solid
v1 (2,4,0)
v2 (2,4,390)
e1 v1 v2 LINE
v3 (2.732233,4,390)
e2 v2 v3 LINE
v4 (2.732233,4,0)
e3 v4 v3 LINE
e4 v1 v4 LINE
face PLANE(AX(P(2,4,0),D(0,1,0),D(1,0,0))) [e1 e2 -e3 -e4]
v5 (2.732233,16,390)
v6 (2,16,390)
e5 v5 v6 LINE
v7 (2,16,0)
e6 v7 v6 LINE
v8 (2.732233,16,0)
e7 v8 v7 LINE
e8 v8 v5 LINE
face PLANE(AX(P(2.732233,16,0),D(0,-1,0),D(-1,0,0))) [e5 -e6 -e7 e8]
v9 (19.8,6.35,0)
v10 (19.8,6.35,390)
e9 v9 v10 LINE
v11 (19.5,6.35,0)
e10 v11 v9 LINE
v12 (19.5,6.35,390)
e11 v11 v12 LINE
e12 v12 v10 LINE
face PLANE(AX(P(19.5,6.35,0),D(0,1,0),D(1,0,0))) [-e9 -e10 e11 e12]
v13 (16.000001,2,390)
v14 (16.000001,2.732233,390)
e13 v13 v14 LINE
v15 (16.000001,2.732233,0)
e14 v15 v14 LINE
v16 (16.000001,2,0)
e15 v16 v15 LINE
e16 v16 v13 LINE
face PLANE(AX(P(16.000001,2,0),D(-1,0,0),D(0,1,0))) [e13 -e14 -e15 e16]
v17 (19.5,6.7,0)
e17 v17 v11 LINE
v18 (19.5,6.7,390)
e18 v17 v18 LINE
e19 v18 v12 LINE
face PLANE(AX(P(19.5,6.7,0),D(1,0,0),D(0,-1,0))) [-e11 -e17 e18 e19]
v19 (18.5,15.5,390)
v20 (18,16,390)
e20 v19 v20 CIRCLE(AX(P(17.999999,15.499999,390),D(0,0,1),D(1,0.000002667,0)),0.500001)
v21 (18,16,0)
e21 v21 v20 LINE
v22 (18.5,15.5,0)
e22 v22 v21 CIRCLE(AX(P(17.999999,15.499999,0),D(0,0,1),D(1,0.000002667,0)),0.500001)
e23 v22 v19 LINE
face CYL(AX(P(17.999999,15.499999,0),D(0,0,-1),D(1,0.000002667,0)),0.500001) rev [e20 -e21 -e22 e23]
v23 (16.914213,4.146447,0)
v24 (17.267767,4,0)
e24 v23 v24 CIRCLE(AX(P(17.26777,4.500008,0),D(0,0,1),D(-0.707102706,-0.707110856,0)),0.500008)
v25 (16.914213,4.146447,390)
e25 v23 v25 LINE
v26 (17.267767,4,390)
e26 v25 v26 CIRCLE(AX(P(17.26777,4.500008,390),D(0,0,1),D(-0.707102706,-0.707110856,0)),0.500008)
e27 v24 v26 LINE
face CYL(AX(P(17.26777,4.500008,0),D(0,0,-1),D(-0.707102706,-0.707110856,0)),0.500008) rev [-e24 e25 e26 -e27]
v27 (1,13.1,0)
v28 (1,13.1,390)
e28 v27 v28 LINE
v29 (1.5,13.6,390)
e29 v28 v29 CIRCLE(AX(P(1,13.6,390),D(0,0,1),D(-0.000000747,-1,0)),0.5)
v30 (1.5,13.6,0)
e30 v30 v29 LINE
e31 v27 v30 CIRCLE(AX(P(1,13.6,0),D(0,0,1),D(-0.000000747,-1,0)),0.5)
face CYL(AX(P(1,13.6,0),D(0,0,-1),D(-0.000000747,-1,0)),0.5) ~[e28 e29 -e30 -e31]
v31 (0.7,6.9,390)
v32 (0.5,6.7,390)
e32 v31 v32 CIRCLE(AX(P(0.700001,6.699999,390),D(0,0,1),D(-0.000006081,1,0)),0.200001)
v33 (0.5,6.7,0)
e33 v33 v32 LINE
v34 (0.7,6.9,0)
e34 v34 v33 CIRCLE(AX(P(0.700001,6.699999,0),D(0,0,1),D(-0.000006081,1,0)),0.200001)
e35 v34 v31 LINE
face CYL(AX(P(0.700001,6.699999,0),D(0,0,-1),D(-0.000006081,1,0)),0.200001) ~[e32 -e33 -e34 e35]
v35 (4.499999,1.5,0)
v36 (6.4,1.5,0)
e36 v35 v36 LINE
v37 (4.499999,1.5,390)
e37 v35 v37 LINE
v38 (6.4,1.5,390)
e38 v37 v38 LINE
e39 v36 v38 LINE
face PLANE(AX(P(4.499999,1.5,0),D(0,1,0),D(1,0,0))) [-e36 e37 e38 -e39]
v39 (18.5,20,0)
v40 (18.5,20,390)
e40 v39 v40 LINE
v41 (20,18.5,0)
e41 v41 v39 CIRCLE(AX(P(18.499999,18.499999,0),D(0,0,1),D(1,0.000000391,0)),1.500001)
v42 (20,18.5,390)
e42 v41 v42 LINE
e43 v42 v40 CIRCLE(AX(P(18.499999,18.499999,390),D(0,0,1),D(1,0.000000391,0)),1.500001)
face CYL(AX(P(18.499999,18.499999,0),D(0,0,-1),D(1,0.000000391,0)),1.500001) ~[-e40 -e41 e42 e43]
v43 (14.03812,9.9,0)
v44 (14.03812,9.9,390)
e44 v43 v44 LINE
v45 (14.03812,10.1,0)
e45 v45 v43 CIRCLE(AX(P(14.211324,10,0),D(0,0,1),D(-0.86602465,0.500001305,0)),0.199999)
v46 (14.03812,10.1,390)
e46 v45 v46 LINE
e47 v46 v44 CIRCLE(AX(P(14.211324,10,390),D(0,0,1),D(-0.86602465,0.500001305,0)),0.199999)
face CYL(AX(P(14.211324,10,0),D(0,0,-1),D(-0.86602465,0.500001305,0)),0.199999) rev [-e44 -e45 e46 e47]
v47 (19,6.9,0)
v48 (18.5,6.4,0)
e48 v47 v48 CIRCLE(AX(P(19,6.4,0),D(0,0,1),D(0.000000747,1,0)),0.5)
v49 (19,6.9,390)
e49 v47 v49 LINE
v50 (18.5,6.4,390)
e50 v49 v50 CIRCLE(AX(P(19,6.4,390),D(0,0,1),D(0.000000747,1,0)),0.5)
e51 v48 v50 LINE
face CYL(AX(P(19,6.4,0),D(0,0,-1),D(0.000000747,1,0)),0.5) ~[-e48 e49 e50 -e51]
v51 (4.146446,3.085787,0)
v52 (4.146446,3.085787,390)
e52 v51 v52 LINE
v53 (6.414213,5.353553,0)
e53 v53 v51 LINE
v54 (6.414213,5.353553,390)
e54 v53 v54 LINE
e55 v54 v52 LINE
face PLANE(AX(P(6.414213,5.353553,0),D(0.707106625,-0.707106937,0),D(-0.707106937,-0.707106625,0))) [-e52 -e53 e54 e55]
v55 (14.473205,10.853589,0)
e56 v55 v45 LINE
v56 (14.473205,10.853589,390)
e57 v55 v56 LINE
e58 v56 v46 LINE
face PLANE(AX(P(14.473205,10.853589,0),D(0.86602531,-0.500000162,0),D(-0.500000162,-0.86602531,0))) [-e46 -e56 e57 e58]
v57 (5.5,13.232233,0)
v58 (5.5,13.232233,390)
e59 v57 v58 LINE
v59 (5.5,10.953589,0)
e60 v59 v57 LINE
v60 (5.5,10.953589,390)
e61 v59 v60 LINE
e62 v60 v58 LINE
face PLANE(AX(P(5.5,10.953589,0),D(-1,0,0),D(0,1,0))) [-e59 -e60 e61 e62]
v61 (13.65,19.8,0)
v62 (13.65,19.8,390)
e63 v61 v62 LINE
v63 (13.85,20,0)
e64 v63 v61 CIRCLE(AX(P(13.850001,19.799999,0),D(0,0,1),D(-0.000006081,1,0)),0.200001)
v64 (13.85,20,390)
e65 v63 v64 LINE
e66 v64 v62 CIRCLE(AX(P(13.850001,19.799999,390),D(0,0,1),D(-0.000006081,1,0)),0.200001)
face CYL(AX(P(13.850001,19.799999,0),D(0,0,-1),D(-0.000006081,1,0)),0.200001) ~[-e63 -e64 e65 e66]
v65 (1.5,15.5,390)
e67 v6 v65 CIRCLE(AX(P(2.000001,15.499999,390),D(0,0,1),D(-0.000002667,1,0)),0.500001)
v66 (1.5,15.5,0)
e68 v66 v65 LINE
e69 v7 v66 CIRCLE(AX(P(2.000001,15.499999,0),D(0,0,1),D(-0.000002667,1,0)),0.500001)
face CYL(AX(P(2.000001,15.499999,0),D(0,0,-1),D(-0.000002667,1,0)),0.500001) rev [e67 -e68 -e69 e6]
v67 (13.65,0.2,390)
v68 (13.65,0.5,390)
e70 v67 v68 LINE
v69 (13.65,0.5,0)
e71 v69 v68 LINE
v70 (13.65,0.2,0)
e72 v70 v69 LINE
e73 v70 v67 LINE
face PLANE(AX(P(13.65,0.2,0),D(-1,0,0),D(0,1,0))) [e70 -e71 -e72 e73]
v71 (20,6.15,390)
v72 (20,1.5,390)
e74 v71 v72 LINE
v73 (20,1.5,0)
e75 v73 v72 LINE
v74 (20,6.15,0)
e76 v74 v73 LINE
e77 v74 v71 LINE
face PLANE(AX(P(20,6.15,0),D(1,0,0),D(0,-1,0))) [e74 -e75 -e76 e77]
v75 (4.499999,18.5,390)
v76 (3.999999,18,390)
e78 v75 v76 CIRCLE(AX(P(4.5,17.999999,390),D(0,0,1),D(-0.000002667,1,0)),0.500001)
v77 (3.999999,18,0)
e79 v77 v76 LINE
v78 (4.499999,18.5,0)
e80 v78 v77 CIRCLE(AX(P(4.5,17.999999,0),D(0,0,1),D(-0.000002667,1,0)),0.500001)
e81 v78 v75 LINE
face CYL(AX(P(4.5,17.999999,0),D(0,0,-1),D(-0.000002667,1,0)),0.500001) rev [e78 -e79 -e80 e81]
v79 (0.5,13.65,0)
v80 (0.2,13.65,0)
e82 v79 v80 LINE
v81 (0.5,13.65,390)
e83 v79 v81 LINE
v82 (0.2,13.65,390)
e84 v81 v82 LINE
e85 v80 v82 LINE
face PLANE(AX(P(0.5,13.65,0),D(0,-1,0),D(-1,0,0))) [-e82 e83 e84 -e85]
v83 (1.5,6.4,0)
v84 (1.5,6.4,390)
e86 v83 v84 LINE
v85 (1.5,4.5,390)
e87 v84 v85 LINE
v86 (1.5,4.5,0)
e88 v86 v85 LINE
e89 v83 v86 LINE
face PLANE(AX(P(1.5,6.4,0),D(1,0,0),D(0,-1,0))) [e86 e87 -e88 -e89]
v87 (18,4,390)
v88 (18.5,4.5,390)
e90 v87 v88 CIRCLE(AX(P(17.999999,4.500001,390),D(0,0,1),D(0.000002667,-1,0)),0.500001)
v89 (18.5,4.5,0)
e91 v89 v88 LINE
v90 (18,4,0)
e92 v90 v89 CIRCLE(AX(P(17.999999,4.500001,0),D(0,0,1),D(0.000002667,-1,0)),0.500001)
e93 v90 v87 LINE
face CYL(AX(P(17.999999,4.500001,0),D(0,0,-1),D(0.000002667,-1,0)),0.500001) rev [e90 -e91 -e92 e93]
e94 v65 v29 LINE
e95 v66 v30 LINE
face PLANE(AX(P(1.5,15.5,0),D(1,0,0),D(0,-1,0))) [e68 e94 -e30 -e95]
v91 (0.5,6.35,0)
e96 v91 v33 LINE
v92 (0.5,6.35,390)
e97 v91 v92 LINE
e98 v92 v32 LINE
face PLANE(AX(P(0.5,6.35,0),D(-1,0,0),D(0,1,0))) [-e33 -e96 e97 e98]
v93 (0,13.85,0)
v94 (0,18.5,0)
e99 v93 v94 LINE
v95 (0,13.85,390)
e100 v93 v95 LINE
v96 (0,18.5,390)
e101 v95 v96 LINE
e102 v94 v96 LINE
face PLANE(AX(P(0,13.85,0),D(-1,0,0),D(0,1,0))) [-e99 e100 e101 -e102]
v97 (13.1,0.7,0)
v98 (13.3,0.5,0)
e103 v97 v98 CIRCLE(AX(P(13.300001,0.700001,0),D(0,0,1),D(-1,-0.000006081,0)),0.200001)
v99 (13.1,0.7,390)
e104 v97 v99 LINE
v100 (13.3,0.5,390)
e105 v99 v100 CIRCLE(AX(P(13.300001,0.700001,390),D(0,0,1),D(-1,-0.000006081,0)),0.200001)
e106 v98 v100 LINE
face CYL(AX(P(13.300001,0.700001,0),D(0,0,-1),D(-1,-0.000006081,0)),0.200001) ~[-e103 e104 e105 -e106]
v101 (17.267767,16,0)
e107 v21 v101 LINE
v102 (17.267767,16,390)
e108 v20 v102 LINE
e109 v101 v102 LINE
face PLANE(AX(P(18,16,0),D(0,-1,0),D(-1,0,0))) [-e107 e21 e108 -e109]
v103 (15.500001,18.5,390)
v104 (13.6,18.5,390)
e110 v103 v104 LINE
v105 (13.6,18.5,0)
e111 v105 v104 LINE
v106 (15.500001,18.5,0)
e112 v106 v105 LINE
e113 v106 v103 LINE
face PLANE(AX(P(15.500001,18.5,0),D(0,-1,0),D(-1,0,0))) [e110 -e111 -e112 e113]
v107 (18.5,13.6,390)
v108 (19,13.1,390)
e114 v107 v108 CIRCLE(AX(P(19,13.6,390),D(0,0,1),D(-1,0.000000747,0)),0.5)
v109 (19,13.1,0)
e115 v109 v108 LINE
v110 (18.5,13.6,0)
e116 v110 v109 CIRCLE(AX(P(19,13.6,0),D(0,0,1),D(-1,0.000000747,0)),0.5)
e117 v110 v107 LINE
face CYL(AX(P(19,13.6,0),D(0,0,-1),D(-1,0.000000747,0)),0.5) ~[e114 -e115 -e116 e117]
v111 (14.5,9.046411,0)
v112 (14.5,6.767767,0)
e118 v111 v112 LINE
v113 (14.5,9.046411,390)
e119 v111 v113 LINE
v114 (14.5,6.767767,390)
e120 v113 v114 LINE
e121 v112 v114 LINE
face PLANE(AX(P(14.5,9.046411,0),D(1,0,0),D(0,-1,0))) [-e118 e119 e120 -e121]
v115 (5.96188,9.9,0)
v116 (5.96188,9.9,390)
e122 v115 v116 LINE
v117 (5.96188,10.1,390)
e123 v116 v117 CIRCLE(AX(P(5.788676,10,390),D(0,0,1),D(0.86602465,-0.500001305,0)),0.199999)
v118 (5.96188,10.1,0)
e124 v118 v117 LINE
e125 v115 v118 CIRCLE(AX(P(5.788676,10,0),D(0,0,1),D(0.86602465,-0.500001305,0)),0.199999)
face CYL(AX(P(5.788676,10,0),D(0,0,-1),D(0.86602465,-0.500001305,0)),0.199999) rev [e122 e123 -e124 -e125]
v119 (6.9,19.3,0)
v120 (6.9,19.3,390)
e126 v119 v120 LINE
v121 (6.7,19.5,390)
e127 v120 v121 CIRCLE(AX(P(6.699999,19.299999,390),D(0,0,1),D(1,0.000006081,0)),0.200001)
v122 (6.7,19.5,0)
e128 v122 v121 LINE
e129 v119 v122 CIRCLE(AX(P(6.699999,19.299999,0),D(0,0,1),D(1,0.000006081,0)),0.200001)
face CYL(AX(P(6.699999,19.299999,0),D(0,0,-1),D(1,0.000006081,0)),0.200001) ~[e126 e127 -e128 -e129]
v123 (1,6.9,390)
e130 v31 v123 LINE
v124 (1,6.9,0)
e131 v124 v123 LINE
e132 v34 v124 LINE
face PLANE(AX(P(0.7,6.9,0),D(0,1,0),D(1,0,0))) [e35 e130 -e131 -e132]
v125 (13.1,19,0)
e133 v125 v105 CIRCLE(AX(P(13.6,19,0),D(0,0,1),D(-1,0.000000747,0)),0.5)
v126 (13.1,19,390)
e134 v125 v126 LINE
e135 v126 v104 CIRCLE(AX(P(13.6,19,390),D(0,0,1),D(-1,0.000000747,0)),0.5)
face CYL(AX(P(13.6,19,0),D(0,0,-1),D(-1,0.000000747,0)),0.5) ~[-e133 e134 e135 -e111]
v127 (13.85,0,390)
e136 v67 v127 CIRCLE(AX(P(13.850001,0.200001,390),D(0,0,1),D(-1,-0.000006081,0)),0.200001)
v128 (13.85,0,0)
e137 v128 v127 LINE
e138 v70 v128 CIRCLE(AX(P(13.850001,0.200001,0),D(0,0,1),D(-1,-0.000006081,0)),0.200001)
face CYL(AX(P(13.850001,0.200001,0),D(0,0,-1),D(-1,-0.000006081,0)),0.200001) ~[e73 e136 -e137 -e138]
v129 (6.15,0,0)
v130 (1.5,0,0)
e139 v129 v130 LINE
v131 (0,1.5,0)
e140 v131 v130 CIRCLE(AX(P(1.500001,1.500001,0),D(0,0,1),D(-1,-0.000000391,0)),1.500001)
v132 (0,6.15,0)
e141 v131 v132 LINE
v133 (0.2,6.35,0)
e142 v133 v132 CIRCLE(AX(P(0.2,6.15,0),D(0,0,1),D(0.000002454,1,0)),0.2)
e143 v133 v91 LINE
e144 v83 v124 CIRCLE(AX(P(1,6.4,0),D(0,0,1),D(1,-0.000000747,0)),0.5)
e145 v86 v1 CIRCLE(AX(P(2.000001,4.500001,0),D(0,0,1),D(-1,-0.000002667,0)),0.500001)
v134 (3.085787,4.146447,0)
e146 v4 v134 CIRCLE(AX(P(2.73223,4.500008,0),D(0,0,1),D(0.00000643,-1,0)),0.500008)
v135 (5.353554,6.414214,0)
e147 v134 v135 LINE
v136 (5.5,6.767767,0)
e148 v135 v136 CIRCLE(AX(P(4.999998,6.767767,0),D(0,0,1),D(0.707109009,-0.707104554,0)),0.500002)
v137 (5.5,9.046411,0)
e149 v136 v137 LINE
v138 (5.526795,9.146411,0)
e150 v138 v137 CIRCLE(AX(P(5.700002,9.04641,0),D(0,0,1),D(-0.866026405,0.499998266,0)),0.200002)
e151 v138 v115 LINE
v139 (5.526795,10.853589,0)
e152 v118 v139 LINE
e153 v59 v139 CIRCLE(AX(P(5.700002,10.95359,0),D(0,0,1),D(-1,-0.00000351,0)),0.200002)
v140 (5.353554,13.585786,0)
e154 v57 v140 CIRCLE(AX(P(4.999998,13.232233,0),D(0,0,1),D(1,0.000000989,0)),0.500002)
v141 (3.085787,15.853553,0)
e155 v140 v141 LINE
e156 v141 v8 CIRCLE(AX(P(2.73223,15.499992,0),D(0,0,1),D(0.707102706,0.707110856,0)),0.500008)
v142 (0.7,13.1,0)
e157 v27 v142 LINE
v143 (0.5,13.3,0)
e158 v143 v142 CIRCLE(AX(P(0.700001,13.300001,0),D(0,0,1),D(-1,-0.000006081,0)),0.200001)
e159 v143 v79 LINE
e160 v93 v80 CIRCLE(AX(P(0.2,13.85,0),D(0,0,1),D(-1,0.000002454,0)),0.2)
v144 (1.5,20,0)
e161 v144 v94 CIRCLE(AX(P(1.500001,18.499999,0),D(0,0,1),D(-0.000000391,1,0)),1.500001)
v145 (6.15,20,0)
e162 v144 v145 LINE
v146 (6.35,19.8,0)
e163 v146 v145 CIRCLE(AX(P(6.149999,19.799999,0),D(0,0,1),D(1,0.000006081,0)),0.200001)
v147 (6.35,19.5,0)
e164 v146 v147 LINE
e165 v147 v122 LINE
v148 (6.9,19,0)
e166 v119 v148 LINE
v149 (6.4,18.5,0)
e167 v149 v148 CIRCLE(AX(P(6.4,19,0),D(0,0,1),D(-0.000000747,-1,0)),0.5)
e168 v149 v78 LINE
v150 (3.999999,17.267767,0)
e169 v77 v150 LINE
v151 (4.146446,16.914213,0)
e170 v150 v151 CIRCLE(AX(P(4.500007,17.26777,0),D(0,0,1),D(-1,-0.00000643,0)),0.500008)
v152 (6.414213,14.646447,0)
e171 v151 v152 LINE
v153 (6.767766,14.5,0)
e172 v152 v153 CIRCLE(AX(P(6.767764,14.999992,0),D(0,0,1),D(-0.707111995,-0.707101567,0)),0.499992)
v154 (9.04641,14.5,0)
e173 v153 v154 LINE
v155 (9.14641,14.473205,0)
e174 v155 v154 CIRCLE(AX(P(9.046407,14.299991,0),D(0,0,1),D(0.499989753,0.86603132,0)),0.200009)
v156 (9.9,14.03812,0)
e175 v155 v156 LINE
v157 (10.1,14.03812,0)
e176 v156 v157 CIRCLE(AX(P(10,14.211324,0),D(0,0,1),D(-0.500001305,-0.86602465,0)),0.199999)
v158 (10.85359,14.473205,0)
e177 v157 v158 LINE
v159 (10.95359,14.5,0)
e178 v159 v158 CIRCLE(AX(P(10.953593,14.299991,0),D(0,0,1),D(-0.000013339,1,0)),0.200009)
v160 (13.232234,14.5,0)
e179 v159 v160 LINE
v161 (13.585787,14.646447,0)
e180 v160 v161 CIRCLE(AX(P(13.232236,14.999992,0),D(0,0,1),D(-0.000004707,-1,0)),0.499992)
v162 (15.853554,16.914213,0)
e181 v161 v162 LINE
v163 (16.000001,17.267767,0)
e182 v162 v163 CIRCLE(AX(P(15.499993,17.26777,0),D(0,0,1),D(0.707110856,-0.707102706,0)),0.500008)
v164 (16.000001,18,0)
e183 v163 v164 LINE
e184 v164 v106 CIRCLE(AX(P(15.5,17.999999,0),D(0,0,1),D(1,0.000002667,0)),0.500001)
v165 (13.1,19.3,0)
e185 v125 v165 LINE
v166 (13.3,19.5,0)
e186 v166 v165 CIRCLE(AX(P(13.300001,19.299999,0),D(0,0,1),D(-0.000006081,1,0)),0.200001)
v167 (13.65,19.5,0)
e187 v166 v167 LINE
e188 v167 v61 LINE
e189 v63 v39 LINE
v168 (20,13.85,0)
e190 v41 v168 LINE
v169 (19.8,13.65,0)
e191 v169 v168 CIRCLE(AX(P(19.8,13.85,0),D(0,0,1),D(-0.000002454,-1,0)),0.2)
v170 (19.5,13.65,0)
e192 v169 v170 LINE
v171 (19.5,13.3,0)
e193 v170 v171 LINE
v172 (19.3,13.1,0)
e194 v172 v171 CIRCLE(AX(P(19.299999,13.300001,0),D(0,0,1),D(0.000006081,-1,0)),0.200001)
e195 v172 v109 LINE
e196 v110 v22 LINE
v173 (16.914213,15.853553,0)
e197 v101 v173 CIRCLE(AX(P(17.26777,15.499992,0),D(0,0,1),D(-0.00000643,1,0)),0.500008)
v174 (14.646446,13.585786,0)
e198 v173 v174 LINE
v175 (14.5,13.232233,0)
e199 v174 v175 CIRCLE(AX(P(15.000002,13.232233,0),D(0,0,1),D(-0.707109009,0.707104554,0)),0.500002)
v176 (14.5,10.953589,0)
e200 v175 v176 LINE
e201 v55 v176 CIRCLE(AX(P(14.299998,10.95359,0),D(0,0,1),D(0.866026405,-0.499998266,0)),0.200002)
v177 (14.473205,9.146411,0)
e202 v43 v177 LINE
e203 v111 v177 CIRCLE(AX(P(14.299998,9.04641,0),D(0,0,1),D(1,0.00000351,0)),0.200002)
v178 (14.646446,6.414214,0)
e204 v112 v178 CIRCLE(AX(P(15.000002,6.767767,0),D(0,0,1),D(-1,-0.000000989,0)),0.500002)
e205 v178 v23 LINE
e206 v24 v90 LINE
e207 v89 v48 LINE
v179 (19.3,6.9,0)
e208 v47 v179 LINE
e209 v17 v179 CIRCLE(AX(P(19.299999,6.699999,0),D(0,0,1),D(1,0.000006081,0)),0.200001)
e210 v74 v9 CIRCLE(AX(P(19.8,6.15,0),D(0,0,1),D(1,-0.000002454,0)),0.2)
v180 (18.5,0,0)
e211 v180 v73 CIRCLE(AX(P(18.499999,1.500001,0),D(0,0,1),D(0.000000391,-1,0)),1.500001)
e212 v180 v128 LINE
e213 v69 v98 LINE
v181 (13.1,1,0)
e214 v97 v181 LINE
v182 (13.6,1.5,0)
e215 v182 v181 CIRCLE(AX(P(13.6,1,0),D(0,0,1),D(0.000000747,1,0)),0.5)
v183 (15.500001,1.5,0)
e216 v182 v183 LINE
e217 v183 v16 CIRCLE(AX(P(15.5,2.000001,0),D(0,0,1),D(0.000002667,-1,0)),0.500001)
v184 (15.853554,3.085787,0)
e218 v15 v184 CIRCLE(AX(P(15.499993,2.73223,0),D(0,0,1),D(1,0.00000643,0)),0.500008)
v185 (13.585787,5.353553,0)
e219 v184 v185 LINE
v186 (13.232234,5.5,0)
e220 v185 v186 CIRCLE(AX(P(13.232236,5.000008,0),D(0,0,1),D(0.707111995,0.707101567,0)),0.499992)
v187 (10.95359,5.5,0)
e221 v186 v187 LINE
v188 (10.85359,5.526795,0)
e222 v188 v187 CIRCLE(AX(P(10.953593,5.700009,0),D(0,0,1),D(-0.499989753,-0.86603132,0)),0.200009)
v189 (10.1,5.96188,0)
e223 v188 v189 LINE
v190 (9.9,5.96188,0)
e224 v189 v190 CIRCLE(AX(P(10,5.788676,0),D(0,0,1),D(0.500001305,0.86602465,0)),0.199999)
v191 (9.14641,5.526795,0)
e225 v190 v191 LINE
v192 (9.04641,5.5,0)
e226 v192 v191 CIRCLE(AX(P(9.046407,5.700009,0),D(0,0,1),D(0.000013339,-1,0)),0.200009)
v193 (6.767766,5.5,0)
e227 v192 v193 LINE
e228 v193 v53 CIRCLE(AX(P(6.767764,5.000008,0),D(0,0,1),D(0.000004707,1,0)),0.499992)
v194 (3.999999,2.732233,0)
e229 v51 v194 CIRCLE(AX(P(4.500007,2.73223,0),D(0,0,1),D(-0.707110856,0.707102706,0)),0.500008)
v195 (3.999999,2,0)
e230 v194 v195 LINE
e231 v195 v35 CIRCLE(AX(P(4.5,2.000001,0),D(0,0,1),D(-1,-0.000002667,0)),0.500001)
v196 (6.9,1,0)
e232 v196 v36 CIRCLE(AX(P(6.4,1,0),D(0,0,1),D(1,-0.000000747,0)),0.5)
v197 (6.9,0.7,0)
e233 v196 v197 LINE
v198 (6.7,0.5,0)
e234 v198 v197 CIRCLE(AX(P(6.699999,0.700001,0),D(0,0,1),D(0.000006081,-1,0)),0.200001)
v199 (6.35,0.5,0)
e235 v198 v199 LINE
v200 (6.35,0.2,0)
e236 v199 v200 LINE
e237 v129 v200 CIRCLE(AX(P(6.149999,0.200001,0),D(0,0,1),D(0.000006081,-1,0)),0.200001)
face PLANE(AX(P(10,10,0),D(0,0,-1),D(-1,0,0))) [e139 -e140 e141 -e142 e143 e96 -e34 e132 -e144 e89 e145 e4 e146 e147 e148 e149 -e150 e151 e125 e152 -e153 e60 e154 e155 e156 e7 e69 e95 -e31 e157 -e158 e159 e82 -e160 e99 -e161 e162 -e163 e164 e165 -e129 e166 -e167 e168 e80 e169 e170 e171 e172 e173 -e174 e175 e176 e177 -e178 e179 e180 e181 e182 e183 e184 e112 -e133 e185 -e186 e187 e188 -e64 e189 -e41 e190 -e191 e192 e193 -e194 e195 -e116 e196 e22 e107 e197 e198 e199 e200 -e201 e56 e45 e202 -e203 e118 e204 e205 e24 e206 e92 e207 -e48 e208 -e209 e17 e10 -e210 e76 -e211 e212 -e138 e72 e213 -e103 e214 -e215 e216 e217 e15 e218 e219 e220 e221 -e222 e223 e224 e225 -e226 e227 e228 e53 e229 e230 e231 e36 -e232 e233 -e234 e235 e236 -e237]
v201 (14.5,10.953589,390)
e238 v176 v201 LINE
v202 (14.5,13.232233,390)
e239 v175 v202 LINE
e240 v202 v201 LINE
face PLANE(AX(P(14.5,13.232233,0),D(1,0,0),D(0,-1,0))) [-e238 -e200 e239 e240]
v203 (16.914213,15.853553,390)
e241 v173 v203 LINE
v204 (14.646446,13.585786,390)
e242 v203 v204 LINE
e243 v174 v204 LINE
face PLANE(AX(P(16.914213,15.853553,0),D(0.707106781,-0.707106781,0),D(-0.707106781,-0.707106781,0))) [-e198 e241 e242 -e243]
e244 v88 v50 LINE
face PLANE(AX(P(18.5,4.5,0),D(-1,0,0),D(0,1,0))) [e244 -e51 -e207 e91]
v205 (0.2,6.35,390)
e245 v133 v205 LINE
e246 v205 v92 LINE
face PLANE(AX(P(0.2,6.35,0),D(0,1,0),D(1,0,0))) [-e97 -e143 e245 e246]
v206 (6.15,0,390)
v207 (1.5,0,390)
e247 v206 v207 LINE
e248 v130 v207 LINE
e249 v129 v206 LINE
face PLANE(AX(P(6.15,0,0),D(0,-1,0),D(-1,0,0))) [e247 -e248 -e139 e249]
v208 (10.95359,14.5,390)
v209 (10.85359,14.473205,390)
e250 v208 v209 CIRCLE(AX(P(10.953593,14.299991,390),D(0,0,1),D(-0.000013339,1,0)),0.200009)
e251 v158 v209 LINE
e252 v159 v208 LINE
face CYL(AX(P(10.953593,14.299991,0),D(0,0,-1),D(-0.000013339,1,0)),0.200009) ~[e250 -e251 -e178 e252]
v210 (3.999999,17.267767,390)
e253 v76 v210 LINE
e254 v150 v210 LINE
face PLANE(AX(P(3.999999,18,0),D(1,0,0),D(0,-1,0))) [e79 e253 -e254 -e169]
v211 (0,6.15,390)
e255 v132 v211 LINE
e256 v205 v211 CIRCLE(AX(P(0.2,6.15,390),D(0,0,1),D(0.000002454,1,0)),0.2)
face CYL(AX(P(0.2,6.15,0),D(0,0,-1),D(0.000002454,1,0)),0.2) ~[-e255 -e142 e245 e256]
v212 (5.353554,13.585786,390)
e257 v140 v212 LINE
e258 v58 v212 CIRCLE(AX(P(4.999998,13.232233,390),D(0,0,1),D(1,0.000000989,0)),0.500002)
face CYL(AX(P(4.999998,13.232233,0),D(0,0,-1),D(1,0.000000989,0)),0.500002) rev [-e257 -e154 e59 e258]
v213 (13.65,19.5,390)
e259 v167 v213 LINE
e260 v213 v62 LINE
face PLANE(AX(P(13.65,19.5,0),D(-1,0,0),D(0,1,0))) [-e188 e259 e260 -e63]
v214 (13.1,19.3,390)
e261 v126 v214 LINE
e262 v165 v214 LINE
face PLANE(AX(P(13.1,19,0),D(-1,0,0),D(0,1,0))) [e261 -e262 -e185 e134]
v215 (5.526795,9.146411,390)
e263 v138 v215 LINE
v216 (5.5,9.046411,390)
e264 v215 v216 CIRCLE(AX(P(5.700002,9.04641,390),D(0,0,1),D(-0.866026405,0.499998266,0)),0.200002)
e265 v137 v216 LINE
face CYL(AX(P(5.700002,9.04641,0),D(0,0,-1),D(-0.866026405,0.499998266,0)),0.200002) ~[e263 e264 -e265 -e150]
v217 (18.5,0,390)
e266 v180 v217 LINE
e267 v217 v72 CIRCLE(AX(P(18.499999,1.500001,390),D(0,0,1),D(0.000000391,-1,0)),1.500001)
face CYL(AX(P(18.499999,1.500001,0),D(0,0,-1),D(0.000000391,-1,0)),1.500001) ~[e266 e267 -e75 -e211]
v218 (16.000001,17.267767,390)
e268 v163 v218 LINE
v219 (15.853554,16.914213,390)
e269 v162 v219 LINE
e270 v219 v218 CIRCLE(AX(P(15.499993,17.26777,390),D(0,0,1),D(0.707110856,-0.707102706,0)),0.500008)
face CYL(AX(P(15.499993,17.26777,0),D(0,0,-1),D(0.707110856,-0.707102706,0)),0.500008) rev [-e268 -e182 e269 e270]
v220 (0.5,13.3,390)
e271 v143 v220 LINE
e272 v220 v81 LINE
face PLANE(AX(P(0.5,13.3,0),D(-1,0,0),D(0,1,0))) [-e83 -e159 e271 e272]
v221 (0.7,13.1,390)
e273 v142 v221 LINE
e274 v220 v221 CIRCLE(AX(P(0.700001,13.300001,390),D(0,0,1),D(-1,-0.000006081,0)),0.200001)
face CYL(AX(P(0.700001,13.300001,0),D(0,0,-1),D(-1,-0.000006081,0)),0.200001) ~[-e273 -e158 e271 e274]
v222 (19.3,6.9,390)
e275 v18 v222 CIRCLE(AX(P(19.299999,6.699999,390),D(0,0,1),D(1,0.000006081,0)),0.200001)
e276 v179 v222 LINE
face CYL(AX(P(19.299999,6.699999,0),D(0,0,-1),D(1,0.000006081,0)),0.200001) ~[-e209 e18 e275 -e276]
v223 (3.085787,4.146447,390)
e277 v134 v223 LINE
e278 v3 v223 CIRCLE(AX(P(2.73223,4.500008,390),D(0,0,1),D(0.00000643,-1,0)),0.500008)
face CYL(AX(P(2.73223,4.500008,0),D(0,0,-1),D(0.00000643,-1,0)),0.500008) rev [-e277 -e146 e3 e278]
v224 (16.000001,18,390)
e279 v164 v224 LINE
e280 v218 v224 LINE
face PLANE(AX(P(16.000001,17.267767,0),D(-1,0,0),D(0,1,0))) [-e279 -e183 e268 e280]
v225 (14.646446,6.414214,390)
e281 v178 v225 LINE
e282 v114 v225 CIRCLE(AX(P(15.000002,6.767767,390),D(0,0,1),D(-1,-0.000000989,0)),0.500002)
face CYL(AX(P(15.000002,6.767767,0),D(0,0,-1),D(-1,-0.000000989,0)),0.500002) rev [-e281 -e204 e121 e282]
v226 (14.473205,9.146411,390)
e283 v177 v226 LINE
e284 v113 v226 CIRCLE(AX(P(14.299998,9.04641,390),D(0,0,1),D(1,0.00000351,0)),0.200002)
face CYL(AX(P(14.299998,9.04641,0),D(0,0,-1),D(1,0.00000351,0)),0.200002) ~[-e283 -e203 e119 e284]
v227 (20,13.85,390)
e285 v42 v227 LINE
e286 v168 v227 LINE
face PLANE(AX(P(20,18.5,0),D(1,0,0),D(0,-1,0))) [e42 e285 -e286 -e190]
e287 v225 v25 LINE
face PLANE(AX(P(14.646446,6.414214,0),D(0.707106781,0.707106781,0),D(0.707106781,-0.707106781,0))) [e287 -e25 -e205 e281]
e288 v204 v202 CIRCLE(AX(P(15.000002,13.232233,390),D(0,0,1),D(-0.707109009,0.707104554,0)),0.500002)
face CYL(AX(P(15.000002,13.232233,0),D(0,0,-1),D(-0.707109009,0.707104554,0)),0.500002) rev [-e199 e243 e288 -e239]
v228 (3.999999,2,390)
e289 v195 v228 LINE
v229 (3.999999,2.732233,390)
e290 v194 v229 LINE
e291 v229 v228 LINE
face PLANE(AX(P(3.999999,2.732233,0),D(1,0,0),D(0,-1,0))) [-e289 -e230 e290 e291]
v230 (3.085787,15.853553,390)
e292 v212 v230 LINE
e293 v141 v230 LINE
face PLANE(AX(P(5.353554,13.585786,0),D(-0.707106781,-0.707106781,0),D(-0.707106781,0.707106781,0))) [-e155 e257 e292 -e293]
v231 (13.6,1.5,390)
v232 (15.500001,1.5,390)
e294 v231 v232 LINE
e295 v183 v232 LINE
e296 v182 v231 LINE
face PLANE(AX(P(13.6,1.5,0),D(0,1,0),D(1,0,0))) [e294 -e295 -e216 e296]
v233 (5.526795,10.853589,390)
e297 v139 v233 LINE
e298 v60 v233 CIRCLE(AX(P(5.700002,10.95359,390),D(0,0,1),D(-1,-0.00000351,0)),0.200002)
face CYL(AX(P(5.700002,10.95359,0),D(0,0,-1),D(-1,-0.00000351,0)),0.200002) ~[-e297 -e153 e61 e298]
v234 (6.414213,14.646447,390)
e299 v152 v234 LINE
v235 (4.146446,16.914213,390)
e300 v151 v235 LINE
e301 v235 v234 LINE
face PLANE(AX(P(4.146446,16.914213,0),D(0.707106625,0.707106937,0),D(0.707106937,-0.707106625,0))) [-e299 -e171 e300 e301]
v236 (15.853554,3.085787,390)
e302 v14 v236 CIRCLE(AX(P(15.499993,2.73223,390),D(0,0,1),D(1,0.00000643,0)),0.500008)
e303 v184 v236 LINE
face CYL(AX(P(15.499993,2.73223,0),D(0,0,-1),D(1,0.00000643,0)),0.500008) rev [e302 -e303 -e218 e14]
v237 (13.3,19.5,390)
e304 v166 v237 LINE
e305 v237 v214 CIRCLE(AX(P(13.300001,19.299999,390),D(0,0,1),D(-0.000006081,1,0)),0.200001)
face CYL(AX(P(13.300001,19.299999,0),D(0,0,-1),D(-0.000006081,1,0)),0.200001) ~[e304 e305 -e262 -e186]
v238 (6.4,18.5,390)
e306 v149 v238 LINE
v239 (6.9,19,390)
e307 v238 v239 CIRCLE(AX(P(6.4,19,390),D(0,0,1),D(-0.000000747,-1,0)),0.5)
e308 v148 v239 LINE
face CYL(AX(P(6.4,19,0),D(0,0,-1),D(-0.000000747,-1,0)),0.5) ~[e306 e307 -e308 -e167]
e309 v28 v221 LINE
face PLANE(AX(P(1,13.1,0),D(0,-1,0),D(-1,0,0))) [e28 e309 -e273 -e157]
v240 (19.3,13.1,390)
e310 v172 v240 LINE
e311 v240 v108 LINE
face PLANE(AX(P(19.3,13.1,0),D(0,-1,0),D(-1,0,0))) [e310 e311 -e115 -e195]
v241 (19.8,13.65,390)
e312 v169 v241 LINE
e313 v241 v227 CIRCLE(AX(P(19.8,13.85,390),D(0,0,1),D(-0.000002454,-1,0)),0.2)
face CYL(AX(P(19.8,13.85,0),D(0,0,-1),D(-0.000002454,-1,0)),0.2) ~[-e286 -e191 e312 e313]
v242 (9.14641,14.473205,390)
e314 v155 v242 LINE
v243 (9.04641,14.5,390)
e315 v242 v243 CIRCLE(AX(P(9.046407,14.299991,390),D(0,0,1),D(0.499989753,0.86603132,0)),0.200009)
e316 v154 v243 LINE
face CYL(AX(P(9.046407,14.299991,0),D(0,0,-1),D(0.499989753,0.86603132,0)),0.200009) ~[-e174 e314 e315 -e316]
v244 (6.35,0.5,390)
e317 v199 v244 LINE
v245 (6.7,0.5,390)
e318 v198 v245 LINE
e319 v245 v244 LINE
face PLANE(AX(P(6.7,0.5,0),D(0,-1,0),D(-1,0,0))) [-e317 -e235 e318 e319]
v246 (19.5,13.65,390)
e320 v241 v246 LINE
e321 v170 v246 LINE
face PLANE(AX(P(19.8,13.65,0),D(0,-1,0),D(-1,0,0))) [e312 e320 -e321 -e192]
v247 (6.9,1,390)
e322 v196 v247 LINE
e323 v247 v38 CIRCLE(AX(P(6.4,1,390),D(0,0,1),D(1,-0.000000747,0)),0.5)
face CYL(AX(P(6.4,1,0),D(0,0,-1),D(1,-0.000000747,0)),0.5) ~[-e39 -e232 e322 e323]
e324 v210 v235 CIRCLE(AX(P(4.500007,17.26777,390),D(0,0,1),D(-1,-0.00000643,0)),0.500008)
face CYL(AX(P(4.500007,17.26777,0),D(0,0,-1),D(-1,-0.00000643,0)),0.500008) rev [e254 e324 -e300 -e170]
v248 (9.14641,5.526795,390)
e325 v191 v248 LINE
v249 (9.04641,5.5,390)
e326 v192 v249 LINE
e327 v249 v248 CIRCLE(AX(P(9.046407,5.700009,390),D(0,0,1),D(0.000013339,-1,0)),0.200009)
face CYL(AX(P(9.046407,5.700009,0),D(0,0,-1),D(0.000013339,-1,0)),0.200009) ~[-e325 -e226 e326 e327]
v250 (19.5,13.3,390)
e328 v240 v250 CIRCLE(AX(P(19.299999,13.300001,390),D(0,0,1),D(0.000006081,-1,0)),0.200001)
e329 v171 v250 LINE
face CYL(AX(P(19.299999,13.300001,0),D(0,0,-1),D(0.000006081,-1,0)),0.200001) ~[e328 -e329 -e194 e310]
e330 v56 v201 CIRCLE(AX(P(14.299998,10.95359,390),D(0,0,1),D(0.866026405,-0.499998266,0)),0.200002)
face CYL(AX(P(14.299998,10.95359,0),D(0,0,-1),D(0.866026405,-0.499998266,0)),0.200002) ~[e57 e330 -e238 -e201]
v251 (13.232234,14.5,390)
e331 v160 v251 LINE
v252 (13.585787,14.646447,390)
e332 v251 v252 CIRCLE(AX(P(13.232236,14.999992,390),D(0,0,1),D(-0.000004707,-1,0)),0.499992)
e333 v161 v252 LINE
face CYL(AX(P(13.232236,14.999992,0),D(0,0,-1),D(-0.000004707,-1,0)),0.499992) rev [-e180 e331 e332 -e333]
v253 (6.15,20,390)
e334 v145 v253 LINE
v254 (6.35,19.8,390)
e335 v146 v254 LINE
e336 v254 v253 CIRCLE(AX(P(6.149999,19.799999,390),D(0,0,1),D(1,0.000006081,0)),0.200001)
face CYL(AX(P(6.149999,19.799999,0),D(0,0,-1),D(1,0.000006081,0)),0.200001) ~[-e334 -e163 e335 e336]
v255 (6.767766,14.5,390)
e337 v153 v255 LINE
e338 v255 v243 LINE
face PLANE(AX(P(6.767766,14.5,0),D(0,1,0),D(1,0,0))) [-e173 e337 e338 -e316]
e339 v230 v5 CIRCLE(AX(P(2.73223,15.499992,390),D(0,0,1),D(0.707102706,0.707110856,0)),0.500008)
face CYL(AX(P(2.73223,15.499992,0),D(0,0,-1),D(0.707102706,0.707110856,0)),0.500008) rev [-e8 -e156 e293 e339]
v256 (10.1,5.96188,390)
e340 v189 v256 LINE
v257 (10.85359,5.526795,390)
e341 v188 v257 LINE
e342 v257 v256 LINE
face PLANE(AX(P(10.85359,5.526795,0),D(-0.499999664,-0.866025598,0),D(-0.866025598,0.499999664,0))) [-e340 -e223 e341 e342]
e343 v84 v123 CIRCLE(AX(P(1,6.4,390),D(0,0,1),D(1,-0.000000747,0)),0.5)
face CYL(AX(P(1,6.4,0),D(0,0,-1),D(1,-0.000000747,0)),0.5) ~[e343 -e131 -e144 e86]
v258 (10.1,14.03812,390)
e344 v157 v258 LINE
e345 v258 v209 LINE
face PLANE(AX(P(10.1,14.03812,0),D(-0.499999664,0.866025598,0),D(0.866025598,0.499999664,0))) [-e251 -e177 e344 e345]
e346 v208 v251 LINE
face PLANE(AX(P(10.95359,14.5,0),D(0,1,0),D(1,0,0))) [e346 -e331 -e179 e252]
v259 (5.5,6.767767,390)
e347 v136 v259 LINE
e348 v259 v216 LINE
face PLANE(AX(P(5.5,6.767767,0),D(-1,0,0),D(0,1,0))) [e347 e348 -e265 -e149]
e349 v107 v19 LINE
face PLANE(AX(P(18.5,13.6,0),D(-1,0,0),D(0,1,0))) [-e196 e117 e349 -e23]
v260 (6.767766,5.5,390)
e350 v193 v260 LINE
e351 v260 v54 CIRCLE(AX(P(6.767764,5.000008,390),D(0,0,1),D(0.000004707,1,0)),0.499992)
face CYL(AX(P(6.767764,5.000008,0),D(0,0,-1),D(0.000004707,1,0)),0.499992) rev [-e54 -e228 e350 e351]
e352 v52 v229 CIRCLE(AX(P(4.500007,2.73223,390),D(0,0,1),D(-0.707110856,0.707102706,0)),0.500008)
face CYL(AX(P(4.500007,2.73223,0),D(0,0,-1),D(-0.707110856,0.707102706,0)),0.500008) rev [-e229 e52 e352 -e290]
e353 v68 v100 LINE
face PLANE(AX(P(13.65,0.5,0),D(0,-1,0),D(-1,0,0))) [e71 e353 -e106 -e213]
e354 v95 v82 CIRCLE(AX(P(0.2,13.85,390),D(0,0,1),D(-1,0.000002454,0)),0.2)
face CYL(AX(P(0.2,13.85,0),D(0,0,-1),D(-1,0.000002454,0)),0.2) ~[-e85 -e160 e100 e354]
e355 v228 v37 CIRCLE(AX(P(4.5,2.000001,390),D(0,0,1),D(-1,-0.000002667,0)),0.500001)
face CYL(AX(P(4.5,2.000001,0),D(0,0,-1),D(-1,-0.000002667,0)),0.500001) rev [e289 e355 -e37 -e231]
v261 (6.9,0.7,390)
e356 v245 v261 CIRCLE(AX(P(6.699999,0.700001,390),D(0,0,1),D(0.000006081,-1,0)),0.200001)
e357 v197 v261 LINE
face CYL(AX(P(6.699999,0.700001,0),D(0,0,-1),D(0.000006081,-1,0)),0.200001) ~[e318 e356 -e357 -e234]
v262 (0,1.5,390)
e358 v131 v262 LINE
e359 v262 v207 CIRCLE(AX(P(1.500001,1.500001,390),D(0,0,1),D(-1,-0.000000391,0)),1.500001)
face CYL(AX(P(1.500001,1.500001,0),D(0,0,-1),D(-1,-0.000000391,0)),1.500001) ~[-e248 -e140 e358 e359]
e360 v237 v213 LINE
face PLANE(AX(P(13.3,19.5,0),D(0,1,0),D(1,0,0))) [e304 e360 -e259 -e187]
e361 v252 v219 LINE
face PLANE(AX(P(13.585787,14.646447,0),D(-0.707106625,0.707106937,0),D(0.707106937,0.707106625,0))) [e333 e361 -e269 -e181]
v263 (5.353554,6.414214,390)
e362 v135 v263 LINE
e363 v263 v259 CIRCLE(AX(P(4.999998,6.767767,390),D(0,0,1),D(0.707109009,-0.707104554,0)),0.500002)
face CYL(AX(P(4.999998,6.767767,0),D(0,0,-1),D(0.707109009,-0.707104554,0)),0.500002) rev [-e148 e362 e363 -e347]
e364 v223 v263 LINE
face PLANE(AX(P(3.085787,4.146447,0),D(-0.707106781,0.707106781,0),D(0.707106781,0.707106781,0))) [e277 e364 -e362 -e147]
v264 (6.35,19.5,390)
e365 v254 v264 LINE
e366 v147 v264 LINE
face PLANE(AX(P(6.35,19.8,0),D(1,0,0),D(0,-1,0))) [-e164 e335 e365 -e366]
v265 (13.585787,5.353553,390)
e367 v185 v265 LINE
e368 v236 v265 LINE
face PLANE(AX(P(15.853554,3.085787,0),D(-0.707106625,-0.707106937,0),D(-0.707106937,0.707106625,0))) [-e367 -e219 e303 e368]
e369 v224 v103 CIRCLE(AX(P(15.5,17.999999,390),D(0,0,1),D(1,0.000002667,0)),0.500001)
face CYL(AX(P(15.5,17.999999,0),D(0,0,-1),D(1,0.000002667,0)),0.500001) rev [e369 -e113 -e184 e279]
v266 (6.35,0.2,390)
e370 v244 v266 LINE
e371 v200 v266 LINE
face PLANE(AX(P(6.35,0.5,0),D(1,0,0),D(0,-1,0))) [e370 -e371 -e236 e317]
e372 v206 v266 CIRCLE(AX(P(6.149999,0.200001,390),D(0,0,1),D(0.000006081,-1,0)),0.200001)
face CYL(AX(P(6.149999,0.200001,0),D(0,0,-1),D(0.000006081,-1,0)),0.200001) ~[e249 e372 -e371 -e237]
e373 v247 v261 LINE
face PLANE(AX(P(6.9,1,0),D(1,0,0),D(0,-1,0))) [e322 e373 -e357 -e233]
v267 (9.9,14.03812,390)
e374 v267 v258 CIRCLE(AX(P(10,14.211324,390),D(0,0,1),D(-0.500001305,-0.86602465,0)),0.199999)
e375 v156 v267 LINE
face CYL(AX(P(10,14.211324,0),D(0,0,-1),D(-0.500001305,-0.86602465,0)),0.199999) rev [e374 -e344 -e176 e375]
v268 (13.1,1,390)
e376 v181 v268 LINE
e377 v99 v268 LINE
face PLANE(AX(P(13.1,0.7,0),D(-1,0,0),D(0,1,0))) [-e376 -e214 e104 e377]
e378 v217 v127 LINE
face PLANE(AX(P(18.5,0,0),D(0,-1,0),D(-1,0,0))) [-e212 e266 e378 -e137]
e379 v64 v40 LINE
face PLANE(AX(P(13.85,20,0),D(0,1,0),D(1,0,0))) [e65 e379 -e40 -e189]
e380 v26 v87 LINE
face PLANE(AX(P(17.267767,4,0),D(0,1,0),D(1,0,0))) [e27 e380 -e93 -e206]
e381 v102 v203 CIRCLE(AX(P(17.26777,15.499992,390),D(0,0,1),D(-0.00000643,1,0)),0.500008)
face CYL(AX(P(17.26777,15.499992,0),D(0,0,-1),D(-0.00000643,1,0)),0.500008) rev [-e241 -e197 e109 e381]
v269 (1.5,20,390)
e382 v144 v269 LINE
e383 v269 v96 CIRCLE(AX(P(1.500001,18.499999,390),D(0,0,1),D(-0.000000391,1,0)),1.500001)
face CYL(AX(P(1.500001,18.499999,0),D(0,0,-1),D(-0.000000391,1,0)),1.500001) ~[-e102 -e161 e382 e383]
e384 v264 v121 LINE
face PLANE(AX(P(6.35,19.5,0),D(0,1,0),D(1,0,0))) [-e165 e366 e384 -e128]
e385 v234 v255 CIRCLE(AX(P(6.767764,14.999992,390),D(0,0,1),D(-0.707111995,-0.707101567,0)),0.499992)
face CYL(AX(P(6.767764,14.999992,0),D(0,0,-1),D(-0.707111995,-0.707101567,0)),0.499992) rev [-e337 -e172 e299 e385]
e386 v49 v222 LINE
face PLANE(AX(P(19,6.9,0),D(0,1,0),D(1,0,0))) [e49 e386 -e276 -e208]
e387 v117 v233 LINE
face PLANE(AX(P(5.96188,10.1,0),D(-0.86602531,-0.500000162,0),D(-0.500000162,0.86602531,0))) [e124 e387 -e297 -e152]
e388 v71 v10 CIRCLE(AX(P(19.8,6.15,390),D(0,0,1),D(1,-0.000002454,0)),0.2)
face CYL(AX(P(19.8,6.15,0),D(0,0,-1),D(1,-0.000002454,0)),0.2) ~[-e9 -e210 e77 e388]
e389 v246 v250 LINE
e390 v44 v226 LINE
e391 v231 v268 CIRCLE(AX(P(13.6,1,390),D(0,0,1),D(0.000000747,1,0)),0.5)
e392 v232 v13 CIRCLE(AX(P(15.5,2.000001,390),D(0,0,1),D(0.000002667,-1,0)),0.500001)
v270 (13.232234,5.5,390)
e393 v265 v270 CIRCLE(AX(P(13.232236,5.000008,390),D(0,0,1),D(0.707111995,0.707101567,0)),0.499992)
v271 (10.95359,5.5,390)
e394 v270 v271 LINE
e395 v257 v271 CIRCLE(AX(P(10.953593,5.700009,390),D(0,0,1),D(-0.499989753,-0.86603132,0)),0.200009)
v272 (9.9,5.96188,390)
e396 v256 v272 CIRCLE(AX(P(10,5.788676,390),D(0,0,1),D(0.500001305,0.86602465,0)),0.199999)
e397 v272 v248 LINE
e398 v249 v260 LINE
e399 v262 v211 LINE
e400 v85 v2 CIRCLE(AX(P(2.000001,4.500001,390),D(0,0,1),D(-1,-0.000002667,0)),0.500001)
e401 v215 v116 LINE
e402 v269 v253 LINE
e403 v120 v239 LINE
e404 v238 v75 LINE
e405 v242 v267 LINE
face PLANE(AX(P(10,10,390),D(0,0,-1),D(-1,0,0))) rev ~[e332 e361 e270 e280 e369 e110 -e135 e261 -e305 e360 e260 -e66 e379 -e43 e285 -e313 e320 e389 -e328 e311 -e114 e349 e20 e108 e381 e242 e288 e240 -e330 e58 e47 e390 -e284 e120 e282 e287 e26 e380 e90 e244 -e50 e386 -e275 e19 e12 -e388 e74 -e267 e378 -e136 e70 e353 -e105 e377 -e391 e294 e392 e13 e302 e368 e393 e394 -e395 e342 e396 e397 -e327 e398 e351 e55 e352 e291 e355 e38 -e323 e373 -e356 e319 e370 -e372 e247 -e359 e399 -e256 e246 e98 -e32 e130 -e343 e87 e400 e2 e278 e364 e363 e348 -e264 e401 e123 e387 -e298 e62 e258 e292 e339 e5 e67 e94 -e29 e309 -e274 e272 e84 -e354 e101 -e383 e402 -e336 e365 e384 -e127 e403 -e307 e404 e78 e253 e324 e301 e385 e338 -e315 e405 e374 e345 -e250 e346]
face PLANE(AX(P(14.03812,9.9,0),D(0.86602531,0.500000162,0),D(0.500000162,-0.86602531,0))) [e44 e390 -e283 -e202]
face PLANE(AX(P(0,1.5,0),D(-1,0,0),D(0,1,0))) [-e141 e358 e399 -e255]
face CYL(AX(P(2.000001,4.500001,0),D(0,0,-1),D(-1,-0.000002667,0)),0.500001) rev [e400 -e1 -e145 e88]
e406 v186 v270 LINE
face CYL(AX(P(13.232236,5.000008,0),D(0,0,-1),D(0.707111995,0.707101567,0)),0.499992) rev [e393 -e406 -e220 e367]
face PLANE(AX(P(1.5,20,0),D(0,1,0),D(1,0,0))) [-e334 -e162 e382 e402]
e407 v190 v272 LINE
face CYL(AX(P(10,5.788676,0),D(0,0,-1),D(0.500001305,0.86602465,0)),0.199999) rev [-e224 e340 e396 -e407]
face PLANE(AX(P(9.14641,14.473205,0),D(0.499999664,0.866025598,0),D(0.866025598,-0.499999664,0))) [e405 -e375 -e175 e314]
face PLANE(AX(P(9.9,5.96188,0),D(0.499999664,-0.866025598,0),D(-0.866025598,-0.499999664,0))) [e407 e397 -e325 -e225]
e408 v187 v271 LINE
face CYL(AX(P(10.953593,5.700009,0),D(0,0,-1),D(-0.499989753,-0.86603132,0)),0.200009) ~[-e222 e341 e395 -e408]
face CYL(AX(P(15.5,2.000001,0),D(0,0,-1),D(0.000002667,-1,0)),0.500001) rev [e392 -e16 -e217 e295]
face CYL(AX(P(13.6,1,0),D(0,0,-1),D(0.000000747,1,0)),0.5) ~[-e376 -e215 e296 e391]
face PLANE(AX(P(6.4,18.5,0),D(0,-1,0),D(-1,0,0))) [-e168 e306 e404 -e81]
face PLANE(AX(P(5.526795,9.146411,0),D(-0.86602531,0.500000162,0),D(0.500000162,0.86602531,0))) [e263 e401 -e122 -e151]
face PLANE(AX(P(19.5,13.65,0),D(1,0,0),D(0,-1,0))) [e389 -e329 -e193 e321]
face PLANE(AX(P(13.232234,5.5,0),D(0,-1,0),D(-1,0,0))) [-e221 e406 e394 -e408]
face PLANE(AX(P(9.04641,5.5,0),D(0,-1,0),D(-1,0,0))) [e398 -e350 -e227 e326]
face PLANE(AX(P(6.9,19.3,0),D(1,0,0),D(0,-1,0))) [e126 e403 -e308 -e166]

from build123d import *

# Parameters (mm, degrees)
PAD_DEPTH    = 390
POCKET_DEPTH = 390.001


with BuildPart() as pad:
    # Sketch → Pad (new body)
    with BuildSketch(Plane(origin=(1.5, 0, 0), x_dir=(1, 0, 0), z_dir=(0, 0, 1))):
        with BuildLine():
            Line((0, 20), (4.65, 20))
            ThreePointArc((4.85, 19.8), (4.791421, 19.941421), (4.65, 20))
            Line((4.85, 19.8), (4.85, 19.5))
            Line((4.85, 19.5), (5.2, 19.5))
            ThreePointArc((5.4, 19.3), (5.341421, 19.441421), (5.2, 19.5))
            Line((5.4, 19.3), (5.4, 19))
            ThreePointArc((4.9, 18.5), (5.253553, 18.646446), (5.4, 19))
            Line((4.9, 18.5), (2.999999, 18.5))
            ThreePointArc((2.999999, 18.5), (2.646446, 18.353553), (2.499999, 18))
            Line((2.499999, 18), (2.499999, 17.267767))
            ThreePointArc((2.499999, 17.267767), (2.53806, 17.076425), (2.646446, 16.914213))
            Line((2.646446, 16.914213), (4.914213, 14.646447))
            ThreePointArc((4.914213, 14.646447), (5.076424, 14.53806), (5.267766, 14.5))
            Line((5.267766, 14.5), (7.54641, 14.5))
            ThreePointArc((7.64641, 14.473205), (7.598173, 14.493185), (7.54641, 14.5))
            Line((7.64641, 14.473205), (8.4, 14.03812))
            ThreePointArc((8.4, 14.03812), (8.5, 14.011325), (8.6, 14.03812))
            Line((8.6, 14.03812), (9.35359, 14.473205))
            ThreePointArc((9.45359, 14.5), (9.401827, 14.493185), (9.35359, 14.473205))
            Line((9.45359, 14.5), (11.732234, 14.5))
            ThreePointArc((11.732234, 14.5), (11.923576, 14.53806), (12.085787, 14.646447))
            Line((12.085787, 14.646447), (14.353554, 16.914213))
            ThreePointArc((14.353554, 16.914213), (14.46194, 17.076425), (14.500001, 17.267767))
            Line((14.500001, 17.267767), (14.500001, 18))
            ThreePointArc((14.500001, 18), (14.353554, 18.353553), (14.000001, 18.5))
            Line((14.000001, 18.5), (12.1, 18.5))
            ThreePointArc((11.6, 19), (11.746447, 18.646446), (12.1, 18.5))
            Line((11.6, 19), (11.6, 19.3))
            ThreePointArc((11.8, 19.5), (11.658579, 19.441421), (11.6, 19.3))
            Line((11.8, 19.5), (12.15, 19.5))
            Line((12.15, 19.5), (12.15, 19.8))
            ThreePointArc((12.35, 20), (12.208579, 19.941421), (12.15, 19.8))
            Line((12.35, 20), (17, 20))
            ThreePointArc((18.5, 18.5), (18.06066, 19.56066), (17, 20))
            Line((18.5, 18.5), (18.5, 13.85))
            ThreePointArc((18.3, 13.65), (18.441421, 13.708578), (18.5, 13.85))
            Line((18.3, 13.65), (18, 13.65))
            Line((18, 13.65), (18, 13.3))
            ThreePointArc((17.8, 13.1), (17.941421, 13.158579), (18, 13.3))
            Line((17.8, 13.1), (17.5, 13.1))
            ThreePointArc((17, 13.6), (17.146446, 13.246447), (17.5, 13.1))
            Line((17, 13.6), (17, 15.5))
            ThreePointArc((17, 15.5), (16.853553, 15.853553), (16.5, 16))
            Line((16.5, 16), (15.767767, 16))
            ThreePointArc((15.767767, 16), (15.576425, 15.961939), (15.414213, 15.853553))
            Line((15.414213, 15.853553), (13.146446, 13.585786))
            ThreePointArc((13.146446, 13.585786), (13.03806, 13.423574), (13, 13.232233))
            Line((13, 13.232233), (13, 10.953589))
            ThreePointArc((12.973205, 10.853589), (12.993185, 10.901825), (13, 10.953589))
            Line((12.973205, 10.853589), (12.53812, 10.1))
            ThreePointArc((12.53812, 10.1), (12.511325, 10), (12.53812, 9.9))
            Line((12.53812, 9.9), (12.973205, 9.146411))
            ThreePointArc((13, 9.046411), (12.993185, 9.098175), (12.973205, 9.146411))
            Line((13, 9.046411), (13, 6.767767))
            ThreePointArc((13, 6.767767), (13.03806, 6.576426), (13.146446, 6.414214))
            Line((13.146446, 6.414214), (15.414213, 4.146447))
            ThreePointArc((15.414213, 4.146447), (15.576425, 4.038061), (15.767767, 4))
            Line((15.767767, 4), (16.5, 4))
            ThreePointArc((16.5, 4), (16.853553, 4.146447), (17, 4.5))
            Line((17, 4.5), (17, 6.4))
            ThreePointArc((17.5, 6.9), (17.146446, 6.753553), (17, 6.4))
            Line((17.5, 6.9), (17.8, 6.9))
            ThreePointArc((18, 6.7), (17.941421, 6.841421), (17.8, 6.9))
            Line((18, 6.7), (18, 6.35))
            Line((18, 6.35), (18.3, 6.35))
            ThreePointArc((18.5, 6.15), (18.441421, 6.291422), (18.3, 6.35))
            Line((18.5, 6.15), (18.5, 1.5))
            ThreePointArc((17, 0), (18.06066, 0.43934), (18.5, 1.5))
            Line((17, 0), (12.35, 0))
            ThreePointArc((12.15, 0.2), (12.208579, 0.058579), (12.35, 0))
            Line((12.15, 0.2), (12.15, 0.5))
            Line((12.15, 0.5), (11.8, 0.5))
            ThreePointArc((11.6, 0.7), (11.658579, 0.558579), (11.8, 0.5))
            Line((11.6, 0.7), (11.6, 1))
            ThreePointArc((12.1, 1.5), (11.746447, 1.353554), (11.6, 1))
            Line((12.1, 1.5), (14.000001, 1.5))
            ThreePointArc((14.000001, 1.5), (14.353554, 1.646447), (14.500001, 2))
            Line((14.500001, 2), (14.500001, 2.732233))
            ThreePointArc((14.500001, 2.732233), (14.46194, 2.923575), (14.353554, 3.085787))
            Line((14.353554, 3.085787), (12.085787, 5.353553))
            ThreePointArc((12.085787, 5.353553), (11.923576, 5.46194), (11.732234, 5.5))
            Line((11.732234, 5.5), (9.45359, 5.5))
            ThreePointArc((9.35359, 5.526795), (9.401827, 5.506815), (9.45359, 5.5))
            Line((9.35359, 5.526795), (8.6, 5.96188))
            ThreePointArc((8.6, 5.96188), (8.5, 5.988675), (8.4, 5.96188))
            Line((8.4, 5.96188), (7.64641, 5.526795))
            ThreePointArc((7.54641, 5.5), (7.598173, 5.506815), (7.64641, 5.526795))
            Line((7.54641, 5.5), (5.267766, 5.5))
            ThreePointArc((5.267766, 5.5), (5.076424, 5.46194), (4.914213, 5.353553))
            Line((4.914213, 5.353553), (2.646446, 3.085787))
            ThreePointArc((2.646446, 3.085787), (2.53806, 2.923575), (2.499999, 2.732233))
            Line((2.499999, 2.732233), (2.499999, 2))
            ThreePointArc((2.499999, 2), (2.646446, 1.646447), (2.999999, 1.5))
            Line((2.999999, 1.5), (4.9, 1.5))
            ThreePointArc((5.4, 1), (5.253553, 1.353554), (4.9, 1.5))
            Line((5.4, 1), (5.4, 0.7))
            ThreePointArc((5.2, 0.5), (5.341421, 0.558579), (5.4, 0.7))
            Line((5.2, 0.5), (4.85, 0.5))
            Line((4.85, 0.5), (4.85, 0.2))
            ThreePointArc((4.65, 0), (4.791421, 0.058579), (4.85, 0.2))
            Line((4.65, 0), (0, 0))
            ThreePointArc((-1.5, 1.5), (-1.06066, 0.43934), (0, 0))
            Line((-1.5, 1.5), (-1.5, 6.15))
            ThreePointArc((-1.3, 6.35), (-1.441421, 6.291422), (-1.5, 6.15))
            Line((-1.3, 6.35), (-1, 6.35))
            Line((-1, 6.35), (-1, 6.7))
            ThreePointArc((-0.8, 6.9), (-0.941421, 6.841421), (-1, 6.7))
            Line((-0.8, 6.9), (-0.5, 6.9))
            ThreePointArc((0, 6.4), (-0.146446, 6.753553), (-0.5, 6.9))
            Line((0, 6.4), (0, 4.5))
            ThreePointArc((0, 4.5), (0.146447, 4.146447), (0.5, 4))
            Line((0.5, 4), (1.232233, 4))
            ThreePointArc((1.232233, 4), (1.423575, 4.038061), (1.585787, 4.146447))
            Line((1.585787, 4.146447), (3.853554, 6.414214))
            ThreePointArc((3.853554, 6.414214), (3.96194, 6.576426), (4, 6.767767))
            Line((4, 6.767767), (4, 9.046411))
            ThreePointArc((4.026795, 9.146411), (4.006815, 9.098175), (4, 9.046411))
            Line((4.026795, 9.146411), (4.46188, 9.9))
            ThreePointArc((4.46188, 9.9), (4.488675, 10), (4.46188, 10.1))
            Line((4.46188, 10.1), (4.026795, 10.853589))
            ThreePointArc((4, 10.953589), (4.006815, 10.901825), (4.026795, 10.853589))
            Line((4, 10.953589), (4, 13.232233))
            ThreePointArc((4, 13.232233), (3.96194, 13.423574), (3.853554, 13.585786))
            Line((3.853554, 13.585786), (1.585787, 15.853553))
            ThreePointArc((1.585787, 15.853553), (1.423575, 15.961939), (1.232233, 16))
            Line((1.232233, 16), (0.5, 16))
            ThreePointArc((0.5, 16), (0.146447, 15.853553), (0, 15.5))
            Line((0, 15.5), (0, 13.6))
            ThreePointArc((-0.5, 13.1), (-0.146446, 13.246447), (0, 13.6))
            Line((-0.5, 13.1), (-0.8, 13.1))
            ThreePointArc((-1, 13.3), (-0.941421, 13.158579), (-0.8, 13.1))
            Line((-1, 13.3), (-1, 13.65))
            Line((-1, 13.65), (-1.3, 13.65))
            ThreePointArc((-1.5, 13.85), (-1.441421, 13.708578), (-1.3, 13.65))
            Line((-1.5, 13.85), (-1.5, 18.5))
            ThreePointArc((0, 20), (-1.06066, 19.56066), (-1.5, 18.5))
        make_face()
    extrude(amount=PAD_DEPTH)


with BuildPart() as pocket:
    # Pocket base: copy of Pad
    add(pad.part)

    # Sketch001 → Pocket (cut, through all)
    with BuildSketch(Plane(origin=(1.5, 0, 390), x_dir=(1, 0, 0), z_dir=(0, 0, 1))):
        with BuildLine():
            ThreePointArc((6.586105, 12.989641), (5.988263, 12.50841), (5.507825, 11.909931))
            Line((6.054705, 11.258185), (5.507825, 11.909931))
            ThreePointArc((6.054705, 11.258185), (5.75, 10), (6.054705, 8.741815))
            Line((5.507825, 8.090069), (6.054705, 8.741815))
            ThreePointArc((5.507825, 8.090069), (5.988263, 7.49159), (6.586105, 7.010359))
            Line((7.241815, 7.554705), (6.586105, 7.010359))
            ThreePointArc((7.241815, 7.554705), (8.5, 7.25), (9.758185, 7.554705))
            Line((10.413895, 7.010359), (9.758185, 7.554705))
            ThreePointArc((10.413895, 7.010359), (11.011737, 7.49159), (11.492175, 8.090069))
            Line((10.945295, 8.741815), (11.492175, 8.090069))
            ThreePointArc((10.945295, 8.741815), (11.25, 10), (10.945295, 11.258185))
            Line((11.492175, 11.909931), (10.945295, 11.258185))
            ThreePointArc((11.492175, 11.909931), (11.011737, 12.50841), (10.413895, 12.989641))
            Line((9.758185, 12.445295), (10.413895, 12.989641))
            ThreePointArc((9.758185, 12.445295), (8.5, 12.75), (7.241815, 12.445295))
            Line((6.586105, 12.989641), (7.241815, 12.445295))
        make_face()
    extrude(amount=-POCKET_DEPTH, mode=Mode.SUBTRACT)


with BuildPart() as fusion:
    # Fusion base: copy of Pad
    add(pad.part)

    # Fusion: union Pocket
    add(pocket.part)


solid = fusion.part
